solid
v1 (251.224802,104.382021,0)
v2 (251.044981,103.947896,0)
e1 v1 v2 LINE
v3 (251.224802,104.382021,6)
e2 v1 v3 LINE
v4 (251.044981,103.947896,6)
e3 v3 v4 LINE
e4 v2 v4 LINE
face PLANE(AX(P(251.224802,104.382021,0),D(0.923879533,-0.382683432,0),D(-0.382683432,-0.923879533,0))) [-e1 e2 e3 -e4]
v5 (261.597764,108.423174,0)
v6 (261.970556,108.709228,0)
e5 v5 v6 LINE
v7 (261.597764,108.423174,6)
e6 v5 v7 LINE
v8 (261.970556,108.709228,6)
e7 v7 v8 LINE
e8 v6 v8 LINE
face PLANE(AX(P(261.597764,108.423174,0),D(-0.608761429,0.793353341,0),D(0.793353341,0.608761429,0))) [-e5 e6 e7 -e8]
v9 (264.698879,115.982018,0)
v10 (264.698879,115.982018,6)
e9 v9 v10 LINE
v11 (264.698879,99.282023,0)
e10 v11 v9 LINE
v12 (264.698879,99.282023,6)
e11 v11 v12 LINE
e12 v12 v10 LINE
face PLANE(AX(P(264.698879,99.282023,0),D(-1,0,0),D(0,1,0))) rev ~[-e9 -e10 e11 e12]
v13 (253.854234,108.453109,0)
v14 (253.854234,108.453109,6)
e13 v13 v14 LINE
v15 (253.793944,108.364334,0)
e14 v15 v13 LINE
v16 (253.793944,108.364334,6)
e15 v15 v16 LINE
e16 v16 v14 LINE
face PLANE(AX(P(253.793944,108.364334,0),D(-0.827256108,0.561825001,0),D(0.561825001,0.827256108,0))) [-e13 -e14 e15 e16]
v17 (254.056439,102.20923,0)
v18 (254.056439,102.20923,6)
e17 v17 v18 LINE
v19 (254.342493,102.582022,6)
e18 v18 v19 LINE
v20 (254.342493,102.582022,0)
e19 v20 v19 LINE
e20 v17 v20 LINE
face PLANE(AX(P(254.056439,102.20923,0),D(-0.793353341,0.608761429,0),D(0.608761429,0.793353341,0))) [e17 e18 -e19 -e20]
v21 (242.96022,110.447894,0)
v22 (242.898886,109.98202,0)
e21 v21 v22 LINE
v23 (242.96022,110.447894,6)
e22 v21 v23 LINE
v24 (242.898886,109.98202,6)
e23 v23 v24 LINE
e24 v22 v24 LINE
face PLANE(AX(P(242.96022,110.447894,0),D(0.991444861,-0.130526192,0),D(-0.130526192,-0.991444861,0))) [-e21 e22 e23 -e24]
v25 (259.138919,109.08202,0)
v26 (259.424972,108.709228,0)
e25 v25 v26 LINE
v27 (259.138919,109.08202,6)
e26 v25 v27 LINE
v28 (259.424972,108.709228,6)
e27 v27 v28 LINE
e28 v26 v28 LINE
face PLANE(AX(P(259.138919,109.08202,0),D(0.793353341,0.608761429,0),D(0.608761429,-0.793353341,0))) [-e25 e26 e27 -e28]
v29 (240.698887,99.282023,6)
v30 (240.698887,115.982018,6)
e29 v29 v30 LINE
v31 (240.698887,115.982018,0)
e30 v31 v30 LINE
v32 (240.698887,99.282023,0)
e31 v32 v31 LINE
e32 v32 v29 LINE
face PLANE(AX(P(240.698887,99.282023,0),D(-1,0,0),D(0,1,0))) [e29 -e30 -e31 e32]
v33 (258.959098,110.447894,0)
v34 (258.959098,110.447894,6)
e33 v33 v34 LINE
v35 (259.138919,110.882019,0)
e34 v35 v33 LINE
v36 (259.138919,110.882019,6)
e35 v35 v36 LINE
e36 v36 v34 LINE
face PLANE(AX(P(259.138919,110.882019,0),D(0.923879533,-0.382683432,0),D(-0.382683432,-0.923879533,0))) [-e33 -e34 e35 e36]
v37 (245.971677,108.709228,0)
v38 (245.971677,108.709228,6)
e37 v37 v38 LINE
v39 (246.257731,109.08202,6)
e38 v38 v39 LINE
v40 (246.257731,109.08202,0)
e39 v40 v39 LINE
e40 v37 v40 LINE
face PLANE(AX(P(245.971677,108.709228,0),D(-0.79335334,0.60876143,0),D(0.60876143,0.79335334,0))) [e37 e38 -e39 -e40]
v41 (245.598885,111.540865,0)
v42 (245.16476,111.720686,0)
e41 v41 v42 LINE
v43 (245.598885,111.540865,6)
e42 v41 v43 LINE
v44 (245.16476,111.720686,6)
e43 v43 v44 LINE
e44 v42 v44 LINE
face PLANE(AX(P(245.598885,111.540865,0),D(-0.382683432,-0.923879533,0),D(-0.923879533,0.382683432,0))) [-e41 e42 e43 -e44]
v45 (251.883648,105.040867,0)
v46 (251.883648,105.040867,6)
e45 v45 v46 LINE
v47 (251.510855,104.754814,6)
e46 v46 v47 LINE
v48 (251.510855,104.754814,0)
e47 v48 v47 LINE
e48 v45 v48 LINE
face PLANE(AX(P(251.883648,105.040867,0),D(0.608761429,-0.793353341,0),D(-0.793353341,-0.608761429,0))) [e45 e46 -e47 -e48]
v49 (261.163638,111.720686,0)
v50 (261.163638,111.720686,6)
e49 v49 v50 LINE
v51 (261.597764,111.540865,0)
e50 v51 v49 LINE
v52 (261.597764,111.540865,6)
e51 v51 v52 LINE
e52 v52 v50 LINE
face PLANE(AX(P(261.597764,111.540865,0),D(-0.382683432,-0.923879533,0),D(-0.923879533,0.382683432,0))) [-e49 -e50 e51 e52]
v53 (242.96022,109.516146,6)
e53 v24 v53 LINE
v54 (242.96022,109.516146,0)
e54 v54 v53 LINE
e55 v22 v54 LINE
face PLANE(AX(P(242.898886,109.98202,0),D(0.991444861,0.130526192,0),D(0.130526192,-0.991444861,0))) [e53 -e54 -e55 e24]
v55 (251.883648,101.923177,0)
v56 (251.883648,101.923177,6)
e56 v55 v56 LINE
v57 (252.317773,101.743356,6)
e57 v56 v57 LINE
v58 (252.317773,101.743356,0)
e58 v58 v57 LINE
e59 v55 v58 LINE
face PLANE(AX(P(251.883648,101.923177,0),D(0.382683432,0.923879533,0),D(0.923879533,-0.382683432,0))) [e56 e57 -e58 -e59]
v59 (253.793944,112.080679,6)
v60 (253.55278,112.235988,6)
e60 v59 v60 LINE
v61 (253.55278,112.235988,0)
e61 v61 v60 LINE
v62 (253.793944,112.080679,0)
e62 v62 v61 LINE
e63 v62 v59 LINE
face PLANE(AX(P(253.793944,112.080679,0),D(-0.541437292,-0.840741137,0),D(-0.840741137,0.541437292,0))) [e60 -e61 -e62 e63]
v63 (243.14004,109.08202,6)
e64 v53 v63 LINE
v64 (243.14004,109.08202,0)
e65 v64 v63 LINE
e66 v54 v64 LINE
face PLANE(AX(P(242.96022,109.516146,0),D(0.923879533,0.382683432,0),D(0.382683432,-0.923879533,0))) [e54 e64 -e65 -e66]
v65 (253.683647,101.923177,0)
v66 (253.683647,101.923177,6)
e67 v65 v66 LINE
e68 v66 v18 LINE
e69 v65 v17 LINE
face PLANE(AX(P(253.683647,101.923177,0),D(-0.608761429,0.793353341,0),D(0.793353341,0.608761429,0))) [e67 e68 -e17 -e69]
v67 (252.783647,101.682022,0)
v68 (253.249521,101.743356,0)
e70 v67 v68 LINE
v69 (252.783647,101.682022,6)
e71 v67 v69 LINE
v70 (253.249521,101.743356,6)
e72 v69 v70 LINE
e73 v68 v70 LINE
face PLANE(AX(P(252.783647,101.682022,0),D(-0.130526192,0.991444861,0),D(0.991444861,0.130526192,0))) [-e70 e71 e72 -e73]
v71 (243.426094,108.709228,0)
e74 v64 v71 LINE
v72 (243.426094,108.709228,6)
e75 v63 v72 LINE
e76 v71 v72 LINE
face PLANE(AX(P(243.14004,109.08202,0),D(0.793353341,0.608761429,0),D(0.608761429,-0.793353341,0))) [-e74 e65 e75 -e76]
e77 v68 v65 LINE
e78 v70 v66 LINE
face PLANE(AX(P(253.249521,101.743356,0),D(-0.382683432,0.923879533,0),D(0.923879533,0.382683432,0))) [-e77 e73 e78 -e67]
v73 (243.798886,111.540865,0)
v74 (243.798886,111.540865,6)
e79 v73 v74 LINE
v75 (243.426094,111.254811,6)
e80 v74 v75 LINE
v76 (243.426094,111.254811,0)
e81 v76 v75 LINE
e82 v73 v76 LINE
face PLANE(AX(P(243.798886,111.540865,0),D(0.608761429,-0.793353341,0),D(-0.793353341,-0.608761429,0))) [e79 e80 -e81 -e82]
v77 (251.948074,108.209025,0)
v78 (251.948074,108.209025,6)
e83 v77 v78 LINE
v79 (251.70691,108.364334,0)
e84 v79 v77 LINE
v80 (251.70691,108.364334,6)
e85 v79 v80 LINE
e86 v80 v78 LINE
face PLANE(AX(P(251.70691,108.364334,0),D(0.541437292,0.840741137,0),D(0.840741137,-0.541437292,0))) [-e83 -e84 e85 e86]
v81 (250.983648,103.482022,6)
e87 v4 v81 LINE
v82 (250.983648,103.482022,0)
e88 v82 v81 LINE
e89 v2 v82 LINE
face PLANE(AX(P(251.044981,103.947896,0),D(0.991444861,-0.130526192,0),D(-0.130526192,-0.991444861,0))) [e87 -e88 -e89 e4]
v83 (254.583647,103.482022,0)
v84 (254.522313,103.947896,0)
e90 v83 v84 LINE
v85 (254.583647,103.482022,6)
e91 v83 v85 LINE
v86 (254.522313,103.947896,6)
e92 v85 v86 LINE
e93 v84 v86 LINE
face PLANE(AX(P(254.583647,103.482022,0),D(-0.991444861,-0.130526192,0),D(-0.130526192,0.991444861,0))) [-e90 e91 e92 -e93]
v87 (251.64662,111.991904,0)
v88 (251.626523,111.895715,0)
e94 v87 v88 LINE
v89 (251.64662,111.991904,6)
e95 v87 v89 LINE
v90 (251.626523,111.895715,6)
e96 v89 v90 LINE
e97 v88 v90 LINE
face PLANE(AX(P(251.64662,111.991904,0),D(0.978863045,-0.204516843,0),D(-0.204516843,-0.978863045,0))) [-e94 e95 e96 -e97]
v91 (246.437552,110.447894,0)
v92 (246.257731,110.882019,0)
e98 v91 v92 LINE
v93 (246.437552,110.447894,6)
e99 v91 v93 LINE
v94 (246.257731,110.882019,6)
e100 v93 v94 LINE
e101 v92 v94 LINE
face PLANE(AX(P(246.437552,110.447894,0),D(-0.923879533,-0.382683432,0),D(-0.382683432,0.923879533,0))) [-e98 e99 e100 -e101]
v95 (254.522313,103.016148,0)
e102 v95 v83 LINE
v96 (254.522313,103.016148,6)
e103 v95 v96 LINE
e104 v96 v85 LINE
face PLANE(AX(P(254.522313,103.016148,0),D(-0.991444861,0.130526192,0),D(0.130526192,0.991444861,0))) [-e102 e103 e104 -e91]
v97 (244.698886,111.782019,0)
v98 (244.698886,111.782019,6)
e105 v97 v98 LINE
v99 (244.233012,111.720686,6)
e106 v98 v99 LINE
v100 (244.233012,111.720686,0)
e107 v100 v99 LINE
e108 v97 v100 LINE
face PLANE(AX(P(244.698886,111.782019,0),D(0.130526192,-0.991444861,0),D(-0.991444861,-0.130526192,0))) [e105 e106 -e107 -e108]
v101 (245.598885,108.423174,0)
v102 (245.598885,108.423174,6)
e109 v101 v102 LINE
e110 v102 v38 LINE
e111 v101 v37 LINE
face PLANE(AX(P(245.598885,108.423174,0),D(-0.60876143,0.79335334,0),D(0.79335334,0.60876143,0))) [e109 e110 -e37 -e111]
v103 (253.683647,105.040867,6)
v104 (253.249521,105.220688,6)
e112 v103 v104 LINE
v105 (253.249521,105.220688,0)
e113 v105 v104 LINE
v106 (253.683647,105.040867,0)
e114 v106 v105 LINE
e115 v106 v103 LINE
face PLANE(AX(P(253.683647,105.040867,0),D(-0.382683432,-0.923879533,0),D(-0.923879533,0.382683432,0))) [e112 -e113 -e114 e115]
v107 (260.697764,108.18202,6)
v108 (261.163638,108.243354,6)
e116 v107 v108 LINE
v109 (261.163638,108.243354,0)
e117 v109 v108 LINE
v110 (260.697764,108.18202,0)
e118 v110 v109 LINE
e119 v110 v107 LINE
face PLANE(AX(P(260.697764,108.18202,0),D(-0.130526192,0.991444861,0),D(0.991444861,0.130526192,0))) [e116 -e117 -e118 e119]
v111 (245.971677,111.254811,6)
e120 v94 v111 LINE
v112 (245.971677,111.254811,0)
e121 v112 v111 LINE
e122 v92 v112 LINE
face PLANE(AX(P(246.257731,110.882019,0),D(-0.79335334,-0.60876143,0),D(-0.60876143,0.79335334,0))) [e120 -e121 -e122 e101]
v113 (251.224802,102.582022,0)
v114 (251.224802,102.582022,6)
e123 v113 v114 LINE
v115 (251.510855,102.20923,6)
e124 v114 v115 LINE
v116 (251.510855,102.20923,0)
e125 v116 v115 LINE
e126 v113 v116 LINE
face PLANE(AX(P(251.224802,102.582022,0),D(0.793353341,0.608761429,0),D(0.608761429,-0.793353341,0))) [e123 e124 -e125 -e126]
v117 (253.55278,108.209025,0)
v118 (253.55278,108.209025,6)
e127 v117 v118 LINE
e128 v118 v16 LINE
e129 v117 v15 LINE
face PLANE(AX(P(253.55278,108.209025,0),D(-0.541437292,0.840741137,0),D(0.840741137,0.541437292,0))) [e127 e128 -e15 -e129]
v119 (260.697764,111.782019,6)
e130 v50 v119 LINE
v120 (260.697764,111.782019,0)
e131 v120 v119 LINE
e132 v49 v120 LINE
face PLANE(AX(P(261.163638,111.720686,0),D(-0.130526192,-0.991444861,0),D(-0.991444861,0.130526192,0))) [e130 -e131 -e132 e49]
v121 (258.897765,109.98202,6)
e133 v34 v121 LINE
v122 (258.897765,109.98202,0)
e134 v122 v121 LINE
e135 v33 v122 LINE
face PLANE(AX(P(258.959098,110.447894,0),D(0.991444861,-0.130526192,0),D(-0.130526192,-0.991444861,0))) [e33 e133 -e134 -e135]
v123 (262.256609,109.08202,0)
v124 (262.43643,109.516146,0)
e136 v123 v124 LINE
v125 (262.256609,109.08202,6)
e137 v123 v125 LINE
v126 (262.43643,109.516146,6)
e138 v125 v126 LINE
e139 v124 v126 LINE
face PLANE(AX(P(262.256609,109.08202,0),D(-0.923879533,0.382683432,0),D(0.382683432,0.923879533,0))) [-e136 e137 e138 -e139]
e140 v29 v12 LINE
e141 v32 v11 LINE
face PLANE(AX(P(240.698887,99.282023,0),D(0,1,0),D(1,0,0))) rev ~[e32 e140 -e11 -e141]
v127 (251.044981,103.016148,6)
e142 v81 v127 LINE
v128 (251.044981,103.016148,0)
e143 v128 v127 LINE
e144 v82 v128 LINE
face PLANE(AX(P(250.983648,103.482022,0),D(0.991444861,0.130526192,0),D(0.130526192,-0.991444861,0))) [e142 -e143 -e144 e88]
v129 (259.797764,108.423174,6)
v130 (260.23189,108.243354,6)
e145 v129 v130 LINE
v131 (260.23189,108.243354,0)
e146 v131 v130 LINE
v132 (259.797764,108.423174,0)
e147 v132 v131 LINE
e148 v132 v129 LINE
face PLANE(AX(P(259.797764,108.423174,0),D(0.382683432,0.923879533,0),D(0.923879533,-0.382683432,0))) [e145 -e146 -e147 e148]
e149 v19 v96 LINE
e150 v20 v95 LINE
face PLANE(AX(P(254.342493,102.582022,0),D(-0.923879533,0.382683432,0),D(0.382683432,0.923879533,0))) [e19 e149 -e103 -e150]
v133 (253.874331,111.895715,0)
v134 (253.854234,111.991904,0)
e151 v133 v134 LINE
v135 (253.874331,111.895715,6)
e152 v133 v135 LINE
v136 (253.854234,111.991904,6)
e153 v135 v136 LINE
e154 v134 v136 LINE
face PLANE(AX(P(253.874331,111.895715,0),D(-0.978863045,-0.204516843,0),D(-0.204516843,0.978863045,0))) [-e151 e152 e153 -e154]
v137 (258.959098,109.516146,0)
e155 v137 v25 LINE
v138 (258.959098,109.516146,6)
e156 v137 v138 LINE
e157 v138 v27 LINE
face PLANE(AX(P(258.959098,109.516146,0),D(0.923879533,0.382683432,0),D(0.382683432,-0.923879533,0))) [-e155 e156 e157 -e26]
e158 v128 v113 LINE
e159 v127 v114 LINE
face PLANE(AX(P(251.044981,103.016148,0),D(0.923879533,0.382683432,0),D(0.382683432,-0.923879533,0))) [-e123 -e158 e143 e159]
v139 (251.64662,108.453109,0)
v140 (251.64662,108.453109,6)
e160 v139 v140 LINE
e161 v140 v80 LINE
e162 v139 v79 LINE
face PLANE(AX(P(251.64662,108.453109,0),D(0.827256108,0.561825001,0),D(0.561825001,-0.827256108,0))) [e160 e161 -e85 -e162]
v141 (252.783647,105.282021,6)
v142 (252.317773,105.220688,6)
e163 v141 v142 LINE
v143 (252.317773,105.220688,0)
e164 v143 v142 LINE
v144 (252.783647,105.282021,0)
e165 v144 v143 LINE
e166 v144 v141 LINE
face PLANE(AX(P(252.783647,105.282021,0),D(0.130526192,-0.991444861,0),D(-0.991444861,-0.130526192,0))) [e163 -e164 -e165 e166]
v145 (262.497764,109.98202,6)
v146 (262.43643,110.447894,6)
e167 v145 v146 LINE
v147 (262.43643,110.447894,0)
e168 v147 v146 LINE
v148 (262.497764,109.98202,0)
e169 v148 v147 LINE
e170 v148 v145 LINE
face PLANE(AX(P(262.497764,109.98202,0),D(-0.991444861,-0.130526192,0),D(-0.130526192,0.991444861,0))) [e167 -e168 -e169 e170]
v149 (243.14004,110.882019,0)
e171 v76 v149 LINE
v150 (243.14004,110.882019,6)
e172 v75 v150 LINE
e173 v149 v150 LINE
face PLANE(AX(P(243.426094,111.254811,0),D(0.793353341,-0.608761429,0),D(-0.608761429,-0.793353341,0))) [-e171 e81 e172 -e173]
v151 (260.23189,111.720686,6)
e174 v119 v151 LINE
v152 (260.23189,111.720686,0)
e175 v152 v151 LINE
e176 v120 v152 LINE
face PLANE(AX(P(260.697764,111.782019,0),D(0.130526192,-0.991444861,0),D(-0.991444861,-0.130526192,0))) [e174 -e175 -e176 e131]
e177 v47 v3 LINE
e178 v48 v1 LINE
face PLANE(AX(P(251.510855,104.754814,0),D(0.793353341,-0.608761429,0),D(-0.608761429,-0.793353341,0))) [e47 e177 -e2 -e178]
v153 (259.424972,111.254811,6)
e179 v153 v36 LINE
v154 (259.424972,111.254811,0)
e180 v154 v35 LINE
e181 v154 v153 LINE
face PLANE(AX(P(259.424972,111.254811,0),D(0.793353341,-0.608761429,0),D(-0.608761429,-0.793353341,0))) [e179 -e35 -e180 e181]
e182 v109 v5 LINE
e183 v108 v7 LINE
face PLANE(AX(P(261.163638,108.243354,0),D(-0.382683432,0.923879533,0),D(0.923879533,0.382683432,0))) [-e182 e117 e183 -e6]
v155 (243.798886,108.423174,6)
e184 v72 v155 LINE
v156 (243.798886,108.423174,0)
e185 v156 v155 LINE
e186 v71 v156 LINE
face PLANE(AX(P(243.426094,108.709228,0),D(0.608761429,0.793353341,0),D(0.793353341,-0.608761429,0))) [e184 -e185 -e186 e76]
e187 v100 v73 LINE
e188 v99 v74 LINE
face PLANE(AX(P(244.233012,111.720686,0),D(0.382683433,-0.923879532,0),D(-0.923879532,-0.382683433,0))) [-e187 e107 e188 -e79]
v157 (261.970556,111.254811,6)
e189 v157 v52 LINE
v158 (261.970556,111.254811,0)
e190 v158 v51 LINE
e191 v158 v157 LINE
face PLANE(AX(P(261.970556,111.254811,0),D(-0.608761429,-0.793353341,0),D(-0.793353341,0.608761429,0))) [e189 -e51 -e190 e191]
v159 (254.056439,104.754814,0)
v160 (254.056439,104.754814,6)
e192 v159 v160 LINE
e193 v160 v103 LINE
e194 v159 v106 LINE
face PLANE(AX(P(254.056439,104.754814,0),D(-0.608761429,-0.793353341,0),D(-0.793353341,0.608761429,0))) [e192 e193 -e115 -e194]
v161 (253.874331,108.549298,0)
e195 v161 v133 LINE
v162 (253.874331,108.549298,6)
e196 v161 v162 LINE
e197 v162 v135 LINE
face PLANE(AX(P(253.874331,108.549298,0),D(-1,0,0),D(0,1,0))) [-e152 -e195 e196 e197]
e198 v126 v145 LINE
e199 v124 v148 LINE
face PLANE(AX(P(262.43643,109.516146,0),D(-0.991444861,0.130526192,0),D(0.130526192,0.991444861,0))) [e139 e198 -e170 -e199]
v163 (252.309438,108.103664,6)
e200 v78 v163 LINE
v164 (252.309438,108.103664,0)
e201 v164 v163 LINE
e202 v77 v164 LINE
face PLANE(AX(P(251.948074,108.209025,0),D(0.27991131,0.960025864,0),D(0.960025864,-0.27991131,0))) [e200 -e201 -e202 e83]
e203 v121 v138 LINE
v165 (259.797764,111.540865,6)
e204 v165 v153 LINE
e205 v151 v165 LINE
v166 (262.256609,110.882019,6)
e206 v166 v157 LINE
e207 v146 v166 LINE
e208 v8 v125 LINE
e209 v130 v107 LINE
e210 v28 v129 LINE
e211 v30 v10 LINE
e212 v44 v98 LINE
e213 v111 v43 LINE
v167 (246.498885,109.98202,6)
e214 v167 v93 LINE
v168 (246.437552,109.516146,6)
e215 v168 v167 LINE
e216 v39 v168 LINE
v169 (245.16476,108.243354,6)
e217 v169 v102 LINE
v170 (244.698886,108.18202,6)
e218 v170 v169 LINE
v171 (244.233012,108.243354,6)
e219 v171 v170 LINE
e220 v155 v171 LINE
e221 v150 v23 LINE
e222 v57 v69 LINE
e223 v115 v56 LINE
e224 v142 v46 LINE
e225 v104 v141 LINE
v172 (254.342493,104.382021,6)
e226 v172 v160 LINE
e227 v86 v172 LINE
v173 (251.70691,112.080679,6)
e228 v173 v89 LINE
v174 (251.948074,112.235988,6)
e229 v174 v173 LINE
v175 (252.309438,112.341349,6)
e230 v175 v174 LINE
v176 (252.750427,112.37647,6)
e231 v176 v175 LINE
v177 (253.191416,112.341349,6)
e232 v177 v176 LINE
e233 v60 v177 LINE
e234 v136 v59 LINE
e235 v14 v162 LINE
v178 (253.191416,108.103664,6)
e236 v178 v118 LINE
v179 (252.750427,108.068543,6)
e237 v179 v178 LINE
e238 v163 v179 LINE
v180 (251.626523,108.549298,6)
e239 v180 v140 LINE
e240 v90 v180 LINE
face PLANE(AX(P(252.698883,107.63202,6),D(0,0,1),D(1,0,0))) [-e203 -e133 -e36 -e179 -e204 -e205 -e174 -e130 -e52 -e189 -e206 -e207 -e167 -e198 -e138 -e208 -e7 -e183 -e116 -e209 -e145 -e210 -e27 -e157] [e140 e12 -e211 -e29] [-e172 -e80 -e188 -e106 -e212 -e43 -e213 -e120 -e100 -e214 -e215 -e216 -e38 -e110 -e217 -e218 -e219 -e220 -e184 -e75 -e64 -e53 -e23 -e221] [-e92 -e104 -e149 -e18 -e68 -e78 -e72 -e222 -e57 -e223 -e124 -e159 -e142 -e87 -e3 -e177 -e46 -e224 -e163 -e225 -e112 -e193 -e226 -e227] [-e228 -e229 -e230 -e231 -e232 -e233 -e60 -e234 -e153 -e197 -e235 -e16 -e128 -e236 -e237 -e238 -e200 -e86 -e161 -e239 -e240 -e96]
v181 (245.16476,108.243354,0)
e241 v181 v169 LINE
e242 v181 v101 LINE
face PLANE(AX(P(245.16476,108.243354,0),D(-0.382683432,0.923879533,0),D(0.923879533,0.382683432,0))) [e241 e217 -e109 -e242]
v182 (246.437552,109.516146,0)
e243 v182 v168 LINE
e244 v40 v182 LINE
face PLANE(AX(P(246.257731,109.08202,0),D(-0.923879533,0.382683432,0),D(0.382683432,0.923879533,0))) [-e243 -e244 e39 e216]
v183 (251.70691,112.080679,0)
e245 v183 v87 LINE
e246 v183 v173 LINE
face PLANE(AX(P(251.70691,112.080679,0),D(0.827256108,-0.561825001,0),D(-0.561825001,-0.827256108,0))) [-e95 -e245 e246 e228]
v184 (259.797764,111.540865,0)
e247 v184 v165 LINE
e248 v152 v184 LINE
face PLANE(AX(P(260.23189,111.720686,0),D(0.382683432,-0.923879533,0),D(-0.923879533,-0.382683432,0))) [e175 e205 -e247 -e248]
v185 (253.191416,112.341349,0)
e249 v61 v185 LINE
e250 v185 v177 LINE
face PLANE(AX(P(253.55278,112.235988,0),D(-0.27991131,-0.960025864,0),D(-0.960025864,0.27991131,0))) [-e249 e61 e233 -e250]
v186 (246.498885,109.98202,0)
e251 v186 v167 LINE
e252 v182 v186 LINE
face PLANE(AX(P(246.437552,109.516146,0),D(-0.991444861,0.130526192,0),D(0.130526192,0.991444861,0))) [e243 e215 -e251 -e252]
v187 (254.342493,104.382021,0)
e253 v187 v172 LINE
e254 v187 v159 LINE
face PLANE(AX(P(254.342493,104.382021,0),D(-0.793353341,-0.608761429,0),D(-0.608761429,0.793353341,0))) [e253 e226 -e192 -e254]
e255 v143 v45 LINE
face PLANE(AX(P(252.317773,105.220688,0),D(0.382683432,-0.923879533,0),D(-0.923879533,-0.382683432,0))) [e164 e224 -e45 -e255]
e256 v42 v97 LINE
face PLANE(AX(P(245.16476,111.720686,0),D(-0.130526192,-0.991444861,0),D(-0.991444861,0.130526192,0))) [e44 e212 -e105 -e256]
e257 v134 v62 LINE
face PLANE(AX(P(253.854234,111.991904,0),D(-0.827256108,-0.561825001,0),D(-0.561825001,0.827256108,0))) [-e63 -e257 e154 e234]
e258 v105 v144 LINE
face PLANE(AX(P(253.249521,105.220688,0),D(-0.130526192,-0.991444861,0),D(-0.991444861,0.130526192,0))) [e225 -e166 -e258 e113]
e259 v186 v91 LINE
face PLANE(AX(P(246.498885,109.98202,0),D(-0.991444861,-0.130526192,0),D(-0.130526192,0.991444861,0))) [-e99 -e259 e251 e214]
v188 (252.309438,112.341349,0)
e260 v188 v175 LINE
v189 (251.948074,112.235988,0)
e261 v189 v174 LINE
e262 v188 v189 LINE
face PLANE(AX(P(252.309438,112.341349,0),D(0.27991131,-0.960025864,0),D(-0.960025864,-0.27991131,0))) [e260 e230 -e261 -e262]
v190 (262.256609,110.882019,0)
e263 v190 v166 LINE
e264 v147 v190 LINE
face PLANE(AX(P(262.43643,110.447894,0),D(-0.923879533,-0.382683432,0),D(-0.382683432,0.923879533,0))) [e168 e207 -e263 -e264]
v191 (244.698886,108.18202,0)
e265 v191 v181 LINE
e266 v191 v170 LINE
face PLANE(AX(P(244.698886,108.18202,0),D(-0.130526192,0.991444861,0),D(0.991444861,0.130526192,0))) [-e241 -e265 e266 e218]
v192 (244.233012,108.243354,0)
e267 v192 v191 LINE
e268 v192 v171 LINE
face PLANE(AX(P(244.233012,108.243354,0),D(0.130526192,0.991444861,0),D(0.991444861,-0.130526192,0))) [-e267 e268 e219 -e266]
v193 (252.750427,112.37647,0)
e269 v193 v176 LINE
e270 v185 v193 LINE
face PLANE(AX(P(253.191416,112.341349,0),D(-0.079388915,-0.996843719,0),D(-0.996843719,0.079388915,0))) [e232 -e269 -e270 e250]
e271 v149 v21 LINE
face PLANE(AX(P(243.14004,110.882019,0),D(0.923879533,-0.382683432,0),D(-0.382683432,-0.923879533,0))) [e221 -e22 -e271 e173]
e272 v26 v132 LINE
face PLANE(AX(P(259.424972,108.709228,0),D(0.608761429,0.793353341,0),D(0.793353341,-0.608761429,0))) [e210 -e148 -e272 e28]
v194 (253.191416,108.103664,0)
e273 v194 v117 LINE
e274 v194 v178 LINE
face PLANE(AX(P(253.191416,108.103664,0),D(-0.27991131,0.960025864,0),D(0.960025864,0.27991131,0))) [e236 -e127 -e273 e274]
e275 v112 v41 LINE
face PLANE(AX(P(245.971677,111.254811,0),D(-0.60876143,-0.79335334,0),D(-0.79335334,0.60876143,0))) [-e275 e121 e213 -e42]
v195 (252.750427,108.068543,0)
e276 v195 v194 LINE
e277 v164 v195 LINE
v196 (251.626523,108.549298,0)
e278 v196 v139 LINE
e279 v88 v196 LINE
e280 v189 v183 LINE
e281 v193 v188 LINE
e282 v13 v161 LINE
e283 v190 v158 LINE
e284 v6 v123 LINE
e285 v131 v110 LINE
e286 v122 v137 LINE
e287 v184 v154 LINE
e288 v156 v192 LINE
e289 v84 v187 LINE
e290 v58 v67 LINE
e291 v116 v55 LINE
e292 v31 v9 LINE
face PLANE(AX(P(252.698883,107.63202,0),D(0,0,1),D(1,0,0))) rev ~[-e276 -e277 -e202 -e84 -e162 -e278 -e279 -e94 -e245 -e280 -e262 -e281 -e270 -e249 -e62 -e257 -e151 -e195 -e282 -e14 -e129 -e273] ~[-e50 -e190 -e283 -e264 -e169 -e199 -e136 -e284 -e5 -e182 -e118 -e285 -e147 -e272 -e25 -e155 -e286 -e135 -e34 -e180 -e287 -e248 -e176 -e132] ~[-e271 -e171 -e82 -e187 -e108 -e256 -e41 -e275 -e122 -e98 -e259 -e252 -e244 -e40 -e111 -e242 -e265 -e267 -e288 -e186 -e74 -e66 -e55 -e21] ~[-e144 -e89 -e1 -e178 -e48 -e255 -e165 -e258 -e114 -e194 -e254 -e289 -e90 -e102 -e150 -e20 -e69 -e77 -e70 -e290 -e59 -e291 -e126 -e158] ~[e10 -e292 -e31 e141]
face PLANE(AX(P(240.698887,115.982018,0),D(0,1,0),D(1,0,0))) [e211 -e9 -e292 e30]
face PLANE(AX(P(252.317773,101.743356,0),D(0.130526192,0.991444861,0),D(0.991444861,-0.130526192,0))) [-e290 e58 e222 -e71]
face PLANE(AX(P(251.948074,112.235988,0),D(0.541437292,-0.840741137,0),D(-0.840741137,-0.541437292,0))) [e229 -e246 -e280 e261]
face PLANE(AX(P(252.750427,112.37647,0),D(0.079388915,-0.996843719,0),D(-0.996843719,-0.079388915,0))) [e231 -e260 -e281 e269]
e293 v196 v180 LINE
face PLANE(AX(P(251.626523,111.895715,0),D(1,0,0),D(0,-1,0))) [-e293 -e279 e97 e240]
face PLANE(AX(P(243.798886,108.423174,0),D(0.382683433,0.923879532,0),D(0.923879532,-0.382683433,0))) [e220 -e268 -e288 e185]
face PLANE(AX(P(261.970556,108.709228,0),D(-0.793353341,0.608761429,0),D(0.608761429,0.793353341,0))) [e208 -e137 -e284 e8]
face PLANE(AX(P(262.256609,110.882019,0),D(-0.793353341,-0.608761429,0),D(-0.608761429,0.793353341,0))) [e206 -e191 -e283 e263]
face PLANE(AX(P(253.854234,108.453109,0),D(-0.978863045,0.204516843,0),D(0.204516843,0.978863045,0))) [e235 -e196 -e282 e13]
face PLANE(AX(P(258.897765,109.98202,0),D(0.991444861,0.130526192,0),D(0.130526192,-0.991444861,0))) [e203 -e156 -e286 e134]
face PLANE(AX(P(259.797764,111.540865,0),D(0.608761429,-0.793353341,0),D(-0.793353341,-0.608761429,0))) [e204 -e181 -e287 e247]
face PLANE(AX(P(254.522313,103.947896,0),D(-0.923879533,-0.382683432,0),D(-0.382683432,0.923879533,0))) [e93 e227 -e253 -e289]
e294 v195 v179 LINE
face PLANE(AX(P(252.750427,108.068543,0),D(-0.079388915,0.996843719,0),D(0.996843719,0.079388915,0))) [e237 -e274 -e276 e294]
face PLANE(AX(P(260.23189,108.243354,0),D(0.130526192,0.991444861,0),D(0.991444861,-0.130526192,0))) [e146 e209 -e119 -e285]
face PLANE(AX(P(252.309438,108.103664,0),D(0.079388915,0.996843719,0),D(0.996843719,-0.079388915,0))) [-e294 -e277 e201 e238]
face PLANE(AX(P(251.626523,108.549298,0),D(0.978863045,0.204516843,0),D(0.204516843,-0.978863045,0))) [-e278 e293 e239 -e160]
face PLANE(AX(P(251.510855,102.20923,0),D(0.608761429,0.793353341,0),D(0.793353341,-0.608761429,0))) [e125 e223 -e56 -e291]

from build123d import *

# Parameters (mm, degrees)
SKETCH1_W           = 23.99999232
SKETCH1_H           = 16.699994656
BOSS_EXTRUDE1_DEPTH = 6


with BuildPart() as part:
    # Sketch1 → Boss-Extrude1 (new body)
    with BuildSketch(Plane.XY):
        with Locations((252.698883135, 107.632020418)):
            Rectangle(SKETCH1_W, SKETCH1_H)
        Polygon((246.437551626, 109.516145534), (246.498885119, 109.982019666), (246.437551626, 110.447893798), (246.257730923, 110.882019378), (245.971677493, 111.254811465), (245.598885407, 111.540864894), (245.164759827, 111.720685597), (244.698885695, 111.78201909), (244.233011562, 111.720685597), (243.798885983, 111.540864894), (243.426093896, 111.254811465), (243.140040467, 110.882019378), (242.960219764, 110.447893798), (242.898886271, 109.982019666), (242.960219764, 109.516145534), (243.140040467, 109.082019954), (243.426093896, 108.709227867), (243.798885983, 108.423174438), (244.233011562, 108.243353735), (244.698885695, 108.182020242), (245.164759827, 108.243353735), (245.598885407, 108.423174438), (245.971677493, 108.709227867), (246.257730923, 109.082019954), align=None, mode=Mode.SUBTRACT)
        Polygon((258.959098233, 109.516145534), (259.138918936, 109.082019954), (259.424972365, 108.709227867), (259.797764452, 108.423174438), (260.231890032, 108.243353735), (260.697764164, 108.182020242), (261.163638296, 108.243353735), (261.597763876, 108.423174438), (261.970555963, 108.709227867), (262.256609392, 109.082019954), (262.436430095, 109.516145534), (262.497763588, 109.982019666), (262.436430095, 110.447893798), (262.256609392, 110.882019378), (261.970555963, 111.254811465), (261.597763876, 111.540864894), (261.163638296, 111.720685597), (260.697764164, 111.78201909), (260.231890032, 111.720685597), (259.797764452, 111.540864894), (259.424972365, 111.254811465), (259.138918936, 110.882019378), (258.959098233, 110.447893798), (258.89776474, 109.982019666), align=None, mode=Mode.SUBTRACT)
        Polygon((251.044981368, 103.947895878), (250.983647875, 103.482021746), (251.044981368, 103.016147614), (251.224802071, 102.582022034), (251.5108555, 102.209229947), (251.883647587, 101.923176518), (252.317773167, 101.743355815), (252.783647299, 101.682022322), (253.249521431, 101.743355815), (253.683647011, 101.923176518), (254.056439098, 102.209229947), (254.342492527, 102.582022034), (254.52231323, 103.016147614), (254.583646723, 103.482021746), (254.52231323, 103.947895878), (254.342492527, 104.382021458), (254.056439098, 104.754813545), (253.683647011, 105.040866974), (253.249521431, 105.220687677), (252.783647299, 105.28202117), (252.317773167, 105.220687677), (251.883647587, 105.040866974), (251.5108555, 104.754813545), (251.224802071, 104.382021458), align=None, mode=Mode.SUBTRACT)
        Polygon((251.626522607, 108.549297627), (251.646619549, 108.453109198), (251.706910374, 108.364334307), (251.948073674, 108.209025142), (252.309437527, 108.103663575), (252.750426951, 108.068543053), (253.191416376, 108.103663575), (253.552780229, 108.209025142), (253.793943529, 108.364334307), (253.854234354, 108.453109198), (253.874331296, 108.549297627), (253.874331296, 111.895715309), (253.854234354, 111.991903738), (253.793943529, 112.080678629), (253.552780229, 112.235987794), (253.191416376, 112.341349361), (252.750426951, 112.376469883), (252.309437527, 112.341349361), (251.948073674, 112.235987794), (251.706910374, 112.080678629), (251.646619549, 111.991903738), (251.626522607, 111.895715309), align=None, mode=Mode.SUBTRACT)
    extrude(amount=BOSS_EXTRUDE1_DEPTH)


solid = part.part
